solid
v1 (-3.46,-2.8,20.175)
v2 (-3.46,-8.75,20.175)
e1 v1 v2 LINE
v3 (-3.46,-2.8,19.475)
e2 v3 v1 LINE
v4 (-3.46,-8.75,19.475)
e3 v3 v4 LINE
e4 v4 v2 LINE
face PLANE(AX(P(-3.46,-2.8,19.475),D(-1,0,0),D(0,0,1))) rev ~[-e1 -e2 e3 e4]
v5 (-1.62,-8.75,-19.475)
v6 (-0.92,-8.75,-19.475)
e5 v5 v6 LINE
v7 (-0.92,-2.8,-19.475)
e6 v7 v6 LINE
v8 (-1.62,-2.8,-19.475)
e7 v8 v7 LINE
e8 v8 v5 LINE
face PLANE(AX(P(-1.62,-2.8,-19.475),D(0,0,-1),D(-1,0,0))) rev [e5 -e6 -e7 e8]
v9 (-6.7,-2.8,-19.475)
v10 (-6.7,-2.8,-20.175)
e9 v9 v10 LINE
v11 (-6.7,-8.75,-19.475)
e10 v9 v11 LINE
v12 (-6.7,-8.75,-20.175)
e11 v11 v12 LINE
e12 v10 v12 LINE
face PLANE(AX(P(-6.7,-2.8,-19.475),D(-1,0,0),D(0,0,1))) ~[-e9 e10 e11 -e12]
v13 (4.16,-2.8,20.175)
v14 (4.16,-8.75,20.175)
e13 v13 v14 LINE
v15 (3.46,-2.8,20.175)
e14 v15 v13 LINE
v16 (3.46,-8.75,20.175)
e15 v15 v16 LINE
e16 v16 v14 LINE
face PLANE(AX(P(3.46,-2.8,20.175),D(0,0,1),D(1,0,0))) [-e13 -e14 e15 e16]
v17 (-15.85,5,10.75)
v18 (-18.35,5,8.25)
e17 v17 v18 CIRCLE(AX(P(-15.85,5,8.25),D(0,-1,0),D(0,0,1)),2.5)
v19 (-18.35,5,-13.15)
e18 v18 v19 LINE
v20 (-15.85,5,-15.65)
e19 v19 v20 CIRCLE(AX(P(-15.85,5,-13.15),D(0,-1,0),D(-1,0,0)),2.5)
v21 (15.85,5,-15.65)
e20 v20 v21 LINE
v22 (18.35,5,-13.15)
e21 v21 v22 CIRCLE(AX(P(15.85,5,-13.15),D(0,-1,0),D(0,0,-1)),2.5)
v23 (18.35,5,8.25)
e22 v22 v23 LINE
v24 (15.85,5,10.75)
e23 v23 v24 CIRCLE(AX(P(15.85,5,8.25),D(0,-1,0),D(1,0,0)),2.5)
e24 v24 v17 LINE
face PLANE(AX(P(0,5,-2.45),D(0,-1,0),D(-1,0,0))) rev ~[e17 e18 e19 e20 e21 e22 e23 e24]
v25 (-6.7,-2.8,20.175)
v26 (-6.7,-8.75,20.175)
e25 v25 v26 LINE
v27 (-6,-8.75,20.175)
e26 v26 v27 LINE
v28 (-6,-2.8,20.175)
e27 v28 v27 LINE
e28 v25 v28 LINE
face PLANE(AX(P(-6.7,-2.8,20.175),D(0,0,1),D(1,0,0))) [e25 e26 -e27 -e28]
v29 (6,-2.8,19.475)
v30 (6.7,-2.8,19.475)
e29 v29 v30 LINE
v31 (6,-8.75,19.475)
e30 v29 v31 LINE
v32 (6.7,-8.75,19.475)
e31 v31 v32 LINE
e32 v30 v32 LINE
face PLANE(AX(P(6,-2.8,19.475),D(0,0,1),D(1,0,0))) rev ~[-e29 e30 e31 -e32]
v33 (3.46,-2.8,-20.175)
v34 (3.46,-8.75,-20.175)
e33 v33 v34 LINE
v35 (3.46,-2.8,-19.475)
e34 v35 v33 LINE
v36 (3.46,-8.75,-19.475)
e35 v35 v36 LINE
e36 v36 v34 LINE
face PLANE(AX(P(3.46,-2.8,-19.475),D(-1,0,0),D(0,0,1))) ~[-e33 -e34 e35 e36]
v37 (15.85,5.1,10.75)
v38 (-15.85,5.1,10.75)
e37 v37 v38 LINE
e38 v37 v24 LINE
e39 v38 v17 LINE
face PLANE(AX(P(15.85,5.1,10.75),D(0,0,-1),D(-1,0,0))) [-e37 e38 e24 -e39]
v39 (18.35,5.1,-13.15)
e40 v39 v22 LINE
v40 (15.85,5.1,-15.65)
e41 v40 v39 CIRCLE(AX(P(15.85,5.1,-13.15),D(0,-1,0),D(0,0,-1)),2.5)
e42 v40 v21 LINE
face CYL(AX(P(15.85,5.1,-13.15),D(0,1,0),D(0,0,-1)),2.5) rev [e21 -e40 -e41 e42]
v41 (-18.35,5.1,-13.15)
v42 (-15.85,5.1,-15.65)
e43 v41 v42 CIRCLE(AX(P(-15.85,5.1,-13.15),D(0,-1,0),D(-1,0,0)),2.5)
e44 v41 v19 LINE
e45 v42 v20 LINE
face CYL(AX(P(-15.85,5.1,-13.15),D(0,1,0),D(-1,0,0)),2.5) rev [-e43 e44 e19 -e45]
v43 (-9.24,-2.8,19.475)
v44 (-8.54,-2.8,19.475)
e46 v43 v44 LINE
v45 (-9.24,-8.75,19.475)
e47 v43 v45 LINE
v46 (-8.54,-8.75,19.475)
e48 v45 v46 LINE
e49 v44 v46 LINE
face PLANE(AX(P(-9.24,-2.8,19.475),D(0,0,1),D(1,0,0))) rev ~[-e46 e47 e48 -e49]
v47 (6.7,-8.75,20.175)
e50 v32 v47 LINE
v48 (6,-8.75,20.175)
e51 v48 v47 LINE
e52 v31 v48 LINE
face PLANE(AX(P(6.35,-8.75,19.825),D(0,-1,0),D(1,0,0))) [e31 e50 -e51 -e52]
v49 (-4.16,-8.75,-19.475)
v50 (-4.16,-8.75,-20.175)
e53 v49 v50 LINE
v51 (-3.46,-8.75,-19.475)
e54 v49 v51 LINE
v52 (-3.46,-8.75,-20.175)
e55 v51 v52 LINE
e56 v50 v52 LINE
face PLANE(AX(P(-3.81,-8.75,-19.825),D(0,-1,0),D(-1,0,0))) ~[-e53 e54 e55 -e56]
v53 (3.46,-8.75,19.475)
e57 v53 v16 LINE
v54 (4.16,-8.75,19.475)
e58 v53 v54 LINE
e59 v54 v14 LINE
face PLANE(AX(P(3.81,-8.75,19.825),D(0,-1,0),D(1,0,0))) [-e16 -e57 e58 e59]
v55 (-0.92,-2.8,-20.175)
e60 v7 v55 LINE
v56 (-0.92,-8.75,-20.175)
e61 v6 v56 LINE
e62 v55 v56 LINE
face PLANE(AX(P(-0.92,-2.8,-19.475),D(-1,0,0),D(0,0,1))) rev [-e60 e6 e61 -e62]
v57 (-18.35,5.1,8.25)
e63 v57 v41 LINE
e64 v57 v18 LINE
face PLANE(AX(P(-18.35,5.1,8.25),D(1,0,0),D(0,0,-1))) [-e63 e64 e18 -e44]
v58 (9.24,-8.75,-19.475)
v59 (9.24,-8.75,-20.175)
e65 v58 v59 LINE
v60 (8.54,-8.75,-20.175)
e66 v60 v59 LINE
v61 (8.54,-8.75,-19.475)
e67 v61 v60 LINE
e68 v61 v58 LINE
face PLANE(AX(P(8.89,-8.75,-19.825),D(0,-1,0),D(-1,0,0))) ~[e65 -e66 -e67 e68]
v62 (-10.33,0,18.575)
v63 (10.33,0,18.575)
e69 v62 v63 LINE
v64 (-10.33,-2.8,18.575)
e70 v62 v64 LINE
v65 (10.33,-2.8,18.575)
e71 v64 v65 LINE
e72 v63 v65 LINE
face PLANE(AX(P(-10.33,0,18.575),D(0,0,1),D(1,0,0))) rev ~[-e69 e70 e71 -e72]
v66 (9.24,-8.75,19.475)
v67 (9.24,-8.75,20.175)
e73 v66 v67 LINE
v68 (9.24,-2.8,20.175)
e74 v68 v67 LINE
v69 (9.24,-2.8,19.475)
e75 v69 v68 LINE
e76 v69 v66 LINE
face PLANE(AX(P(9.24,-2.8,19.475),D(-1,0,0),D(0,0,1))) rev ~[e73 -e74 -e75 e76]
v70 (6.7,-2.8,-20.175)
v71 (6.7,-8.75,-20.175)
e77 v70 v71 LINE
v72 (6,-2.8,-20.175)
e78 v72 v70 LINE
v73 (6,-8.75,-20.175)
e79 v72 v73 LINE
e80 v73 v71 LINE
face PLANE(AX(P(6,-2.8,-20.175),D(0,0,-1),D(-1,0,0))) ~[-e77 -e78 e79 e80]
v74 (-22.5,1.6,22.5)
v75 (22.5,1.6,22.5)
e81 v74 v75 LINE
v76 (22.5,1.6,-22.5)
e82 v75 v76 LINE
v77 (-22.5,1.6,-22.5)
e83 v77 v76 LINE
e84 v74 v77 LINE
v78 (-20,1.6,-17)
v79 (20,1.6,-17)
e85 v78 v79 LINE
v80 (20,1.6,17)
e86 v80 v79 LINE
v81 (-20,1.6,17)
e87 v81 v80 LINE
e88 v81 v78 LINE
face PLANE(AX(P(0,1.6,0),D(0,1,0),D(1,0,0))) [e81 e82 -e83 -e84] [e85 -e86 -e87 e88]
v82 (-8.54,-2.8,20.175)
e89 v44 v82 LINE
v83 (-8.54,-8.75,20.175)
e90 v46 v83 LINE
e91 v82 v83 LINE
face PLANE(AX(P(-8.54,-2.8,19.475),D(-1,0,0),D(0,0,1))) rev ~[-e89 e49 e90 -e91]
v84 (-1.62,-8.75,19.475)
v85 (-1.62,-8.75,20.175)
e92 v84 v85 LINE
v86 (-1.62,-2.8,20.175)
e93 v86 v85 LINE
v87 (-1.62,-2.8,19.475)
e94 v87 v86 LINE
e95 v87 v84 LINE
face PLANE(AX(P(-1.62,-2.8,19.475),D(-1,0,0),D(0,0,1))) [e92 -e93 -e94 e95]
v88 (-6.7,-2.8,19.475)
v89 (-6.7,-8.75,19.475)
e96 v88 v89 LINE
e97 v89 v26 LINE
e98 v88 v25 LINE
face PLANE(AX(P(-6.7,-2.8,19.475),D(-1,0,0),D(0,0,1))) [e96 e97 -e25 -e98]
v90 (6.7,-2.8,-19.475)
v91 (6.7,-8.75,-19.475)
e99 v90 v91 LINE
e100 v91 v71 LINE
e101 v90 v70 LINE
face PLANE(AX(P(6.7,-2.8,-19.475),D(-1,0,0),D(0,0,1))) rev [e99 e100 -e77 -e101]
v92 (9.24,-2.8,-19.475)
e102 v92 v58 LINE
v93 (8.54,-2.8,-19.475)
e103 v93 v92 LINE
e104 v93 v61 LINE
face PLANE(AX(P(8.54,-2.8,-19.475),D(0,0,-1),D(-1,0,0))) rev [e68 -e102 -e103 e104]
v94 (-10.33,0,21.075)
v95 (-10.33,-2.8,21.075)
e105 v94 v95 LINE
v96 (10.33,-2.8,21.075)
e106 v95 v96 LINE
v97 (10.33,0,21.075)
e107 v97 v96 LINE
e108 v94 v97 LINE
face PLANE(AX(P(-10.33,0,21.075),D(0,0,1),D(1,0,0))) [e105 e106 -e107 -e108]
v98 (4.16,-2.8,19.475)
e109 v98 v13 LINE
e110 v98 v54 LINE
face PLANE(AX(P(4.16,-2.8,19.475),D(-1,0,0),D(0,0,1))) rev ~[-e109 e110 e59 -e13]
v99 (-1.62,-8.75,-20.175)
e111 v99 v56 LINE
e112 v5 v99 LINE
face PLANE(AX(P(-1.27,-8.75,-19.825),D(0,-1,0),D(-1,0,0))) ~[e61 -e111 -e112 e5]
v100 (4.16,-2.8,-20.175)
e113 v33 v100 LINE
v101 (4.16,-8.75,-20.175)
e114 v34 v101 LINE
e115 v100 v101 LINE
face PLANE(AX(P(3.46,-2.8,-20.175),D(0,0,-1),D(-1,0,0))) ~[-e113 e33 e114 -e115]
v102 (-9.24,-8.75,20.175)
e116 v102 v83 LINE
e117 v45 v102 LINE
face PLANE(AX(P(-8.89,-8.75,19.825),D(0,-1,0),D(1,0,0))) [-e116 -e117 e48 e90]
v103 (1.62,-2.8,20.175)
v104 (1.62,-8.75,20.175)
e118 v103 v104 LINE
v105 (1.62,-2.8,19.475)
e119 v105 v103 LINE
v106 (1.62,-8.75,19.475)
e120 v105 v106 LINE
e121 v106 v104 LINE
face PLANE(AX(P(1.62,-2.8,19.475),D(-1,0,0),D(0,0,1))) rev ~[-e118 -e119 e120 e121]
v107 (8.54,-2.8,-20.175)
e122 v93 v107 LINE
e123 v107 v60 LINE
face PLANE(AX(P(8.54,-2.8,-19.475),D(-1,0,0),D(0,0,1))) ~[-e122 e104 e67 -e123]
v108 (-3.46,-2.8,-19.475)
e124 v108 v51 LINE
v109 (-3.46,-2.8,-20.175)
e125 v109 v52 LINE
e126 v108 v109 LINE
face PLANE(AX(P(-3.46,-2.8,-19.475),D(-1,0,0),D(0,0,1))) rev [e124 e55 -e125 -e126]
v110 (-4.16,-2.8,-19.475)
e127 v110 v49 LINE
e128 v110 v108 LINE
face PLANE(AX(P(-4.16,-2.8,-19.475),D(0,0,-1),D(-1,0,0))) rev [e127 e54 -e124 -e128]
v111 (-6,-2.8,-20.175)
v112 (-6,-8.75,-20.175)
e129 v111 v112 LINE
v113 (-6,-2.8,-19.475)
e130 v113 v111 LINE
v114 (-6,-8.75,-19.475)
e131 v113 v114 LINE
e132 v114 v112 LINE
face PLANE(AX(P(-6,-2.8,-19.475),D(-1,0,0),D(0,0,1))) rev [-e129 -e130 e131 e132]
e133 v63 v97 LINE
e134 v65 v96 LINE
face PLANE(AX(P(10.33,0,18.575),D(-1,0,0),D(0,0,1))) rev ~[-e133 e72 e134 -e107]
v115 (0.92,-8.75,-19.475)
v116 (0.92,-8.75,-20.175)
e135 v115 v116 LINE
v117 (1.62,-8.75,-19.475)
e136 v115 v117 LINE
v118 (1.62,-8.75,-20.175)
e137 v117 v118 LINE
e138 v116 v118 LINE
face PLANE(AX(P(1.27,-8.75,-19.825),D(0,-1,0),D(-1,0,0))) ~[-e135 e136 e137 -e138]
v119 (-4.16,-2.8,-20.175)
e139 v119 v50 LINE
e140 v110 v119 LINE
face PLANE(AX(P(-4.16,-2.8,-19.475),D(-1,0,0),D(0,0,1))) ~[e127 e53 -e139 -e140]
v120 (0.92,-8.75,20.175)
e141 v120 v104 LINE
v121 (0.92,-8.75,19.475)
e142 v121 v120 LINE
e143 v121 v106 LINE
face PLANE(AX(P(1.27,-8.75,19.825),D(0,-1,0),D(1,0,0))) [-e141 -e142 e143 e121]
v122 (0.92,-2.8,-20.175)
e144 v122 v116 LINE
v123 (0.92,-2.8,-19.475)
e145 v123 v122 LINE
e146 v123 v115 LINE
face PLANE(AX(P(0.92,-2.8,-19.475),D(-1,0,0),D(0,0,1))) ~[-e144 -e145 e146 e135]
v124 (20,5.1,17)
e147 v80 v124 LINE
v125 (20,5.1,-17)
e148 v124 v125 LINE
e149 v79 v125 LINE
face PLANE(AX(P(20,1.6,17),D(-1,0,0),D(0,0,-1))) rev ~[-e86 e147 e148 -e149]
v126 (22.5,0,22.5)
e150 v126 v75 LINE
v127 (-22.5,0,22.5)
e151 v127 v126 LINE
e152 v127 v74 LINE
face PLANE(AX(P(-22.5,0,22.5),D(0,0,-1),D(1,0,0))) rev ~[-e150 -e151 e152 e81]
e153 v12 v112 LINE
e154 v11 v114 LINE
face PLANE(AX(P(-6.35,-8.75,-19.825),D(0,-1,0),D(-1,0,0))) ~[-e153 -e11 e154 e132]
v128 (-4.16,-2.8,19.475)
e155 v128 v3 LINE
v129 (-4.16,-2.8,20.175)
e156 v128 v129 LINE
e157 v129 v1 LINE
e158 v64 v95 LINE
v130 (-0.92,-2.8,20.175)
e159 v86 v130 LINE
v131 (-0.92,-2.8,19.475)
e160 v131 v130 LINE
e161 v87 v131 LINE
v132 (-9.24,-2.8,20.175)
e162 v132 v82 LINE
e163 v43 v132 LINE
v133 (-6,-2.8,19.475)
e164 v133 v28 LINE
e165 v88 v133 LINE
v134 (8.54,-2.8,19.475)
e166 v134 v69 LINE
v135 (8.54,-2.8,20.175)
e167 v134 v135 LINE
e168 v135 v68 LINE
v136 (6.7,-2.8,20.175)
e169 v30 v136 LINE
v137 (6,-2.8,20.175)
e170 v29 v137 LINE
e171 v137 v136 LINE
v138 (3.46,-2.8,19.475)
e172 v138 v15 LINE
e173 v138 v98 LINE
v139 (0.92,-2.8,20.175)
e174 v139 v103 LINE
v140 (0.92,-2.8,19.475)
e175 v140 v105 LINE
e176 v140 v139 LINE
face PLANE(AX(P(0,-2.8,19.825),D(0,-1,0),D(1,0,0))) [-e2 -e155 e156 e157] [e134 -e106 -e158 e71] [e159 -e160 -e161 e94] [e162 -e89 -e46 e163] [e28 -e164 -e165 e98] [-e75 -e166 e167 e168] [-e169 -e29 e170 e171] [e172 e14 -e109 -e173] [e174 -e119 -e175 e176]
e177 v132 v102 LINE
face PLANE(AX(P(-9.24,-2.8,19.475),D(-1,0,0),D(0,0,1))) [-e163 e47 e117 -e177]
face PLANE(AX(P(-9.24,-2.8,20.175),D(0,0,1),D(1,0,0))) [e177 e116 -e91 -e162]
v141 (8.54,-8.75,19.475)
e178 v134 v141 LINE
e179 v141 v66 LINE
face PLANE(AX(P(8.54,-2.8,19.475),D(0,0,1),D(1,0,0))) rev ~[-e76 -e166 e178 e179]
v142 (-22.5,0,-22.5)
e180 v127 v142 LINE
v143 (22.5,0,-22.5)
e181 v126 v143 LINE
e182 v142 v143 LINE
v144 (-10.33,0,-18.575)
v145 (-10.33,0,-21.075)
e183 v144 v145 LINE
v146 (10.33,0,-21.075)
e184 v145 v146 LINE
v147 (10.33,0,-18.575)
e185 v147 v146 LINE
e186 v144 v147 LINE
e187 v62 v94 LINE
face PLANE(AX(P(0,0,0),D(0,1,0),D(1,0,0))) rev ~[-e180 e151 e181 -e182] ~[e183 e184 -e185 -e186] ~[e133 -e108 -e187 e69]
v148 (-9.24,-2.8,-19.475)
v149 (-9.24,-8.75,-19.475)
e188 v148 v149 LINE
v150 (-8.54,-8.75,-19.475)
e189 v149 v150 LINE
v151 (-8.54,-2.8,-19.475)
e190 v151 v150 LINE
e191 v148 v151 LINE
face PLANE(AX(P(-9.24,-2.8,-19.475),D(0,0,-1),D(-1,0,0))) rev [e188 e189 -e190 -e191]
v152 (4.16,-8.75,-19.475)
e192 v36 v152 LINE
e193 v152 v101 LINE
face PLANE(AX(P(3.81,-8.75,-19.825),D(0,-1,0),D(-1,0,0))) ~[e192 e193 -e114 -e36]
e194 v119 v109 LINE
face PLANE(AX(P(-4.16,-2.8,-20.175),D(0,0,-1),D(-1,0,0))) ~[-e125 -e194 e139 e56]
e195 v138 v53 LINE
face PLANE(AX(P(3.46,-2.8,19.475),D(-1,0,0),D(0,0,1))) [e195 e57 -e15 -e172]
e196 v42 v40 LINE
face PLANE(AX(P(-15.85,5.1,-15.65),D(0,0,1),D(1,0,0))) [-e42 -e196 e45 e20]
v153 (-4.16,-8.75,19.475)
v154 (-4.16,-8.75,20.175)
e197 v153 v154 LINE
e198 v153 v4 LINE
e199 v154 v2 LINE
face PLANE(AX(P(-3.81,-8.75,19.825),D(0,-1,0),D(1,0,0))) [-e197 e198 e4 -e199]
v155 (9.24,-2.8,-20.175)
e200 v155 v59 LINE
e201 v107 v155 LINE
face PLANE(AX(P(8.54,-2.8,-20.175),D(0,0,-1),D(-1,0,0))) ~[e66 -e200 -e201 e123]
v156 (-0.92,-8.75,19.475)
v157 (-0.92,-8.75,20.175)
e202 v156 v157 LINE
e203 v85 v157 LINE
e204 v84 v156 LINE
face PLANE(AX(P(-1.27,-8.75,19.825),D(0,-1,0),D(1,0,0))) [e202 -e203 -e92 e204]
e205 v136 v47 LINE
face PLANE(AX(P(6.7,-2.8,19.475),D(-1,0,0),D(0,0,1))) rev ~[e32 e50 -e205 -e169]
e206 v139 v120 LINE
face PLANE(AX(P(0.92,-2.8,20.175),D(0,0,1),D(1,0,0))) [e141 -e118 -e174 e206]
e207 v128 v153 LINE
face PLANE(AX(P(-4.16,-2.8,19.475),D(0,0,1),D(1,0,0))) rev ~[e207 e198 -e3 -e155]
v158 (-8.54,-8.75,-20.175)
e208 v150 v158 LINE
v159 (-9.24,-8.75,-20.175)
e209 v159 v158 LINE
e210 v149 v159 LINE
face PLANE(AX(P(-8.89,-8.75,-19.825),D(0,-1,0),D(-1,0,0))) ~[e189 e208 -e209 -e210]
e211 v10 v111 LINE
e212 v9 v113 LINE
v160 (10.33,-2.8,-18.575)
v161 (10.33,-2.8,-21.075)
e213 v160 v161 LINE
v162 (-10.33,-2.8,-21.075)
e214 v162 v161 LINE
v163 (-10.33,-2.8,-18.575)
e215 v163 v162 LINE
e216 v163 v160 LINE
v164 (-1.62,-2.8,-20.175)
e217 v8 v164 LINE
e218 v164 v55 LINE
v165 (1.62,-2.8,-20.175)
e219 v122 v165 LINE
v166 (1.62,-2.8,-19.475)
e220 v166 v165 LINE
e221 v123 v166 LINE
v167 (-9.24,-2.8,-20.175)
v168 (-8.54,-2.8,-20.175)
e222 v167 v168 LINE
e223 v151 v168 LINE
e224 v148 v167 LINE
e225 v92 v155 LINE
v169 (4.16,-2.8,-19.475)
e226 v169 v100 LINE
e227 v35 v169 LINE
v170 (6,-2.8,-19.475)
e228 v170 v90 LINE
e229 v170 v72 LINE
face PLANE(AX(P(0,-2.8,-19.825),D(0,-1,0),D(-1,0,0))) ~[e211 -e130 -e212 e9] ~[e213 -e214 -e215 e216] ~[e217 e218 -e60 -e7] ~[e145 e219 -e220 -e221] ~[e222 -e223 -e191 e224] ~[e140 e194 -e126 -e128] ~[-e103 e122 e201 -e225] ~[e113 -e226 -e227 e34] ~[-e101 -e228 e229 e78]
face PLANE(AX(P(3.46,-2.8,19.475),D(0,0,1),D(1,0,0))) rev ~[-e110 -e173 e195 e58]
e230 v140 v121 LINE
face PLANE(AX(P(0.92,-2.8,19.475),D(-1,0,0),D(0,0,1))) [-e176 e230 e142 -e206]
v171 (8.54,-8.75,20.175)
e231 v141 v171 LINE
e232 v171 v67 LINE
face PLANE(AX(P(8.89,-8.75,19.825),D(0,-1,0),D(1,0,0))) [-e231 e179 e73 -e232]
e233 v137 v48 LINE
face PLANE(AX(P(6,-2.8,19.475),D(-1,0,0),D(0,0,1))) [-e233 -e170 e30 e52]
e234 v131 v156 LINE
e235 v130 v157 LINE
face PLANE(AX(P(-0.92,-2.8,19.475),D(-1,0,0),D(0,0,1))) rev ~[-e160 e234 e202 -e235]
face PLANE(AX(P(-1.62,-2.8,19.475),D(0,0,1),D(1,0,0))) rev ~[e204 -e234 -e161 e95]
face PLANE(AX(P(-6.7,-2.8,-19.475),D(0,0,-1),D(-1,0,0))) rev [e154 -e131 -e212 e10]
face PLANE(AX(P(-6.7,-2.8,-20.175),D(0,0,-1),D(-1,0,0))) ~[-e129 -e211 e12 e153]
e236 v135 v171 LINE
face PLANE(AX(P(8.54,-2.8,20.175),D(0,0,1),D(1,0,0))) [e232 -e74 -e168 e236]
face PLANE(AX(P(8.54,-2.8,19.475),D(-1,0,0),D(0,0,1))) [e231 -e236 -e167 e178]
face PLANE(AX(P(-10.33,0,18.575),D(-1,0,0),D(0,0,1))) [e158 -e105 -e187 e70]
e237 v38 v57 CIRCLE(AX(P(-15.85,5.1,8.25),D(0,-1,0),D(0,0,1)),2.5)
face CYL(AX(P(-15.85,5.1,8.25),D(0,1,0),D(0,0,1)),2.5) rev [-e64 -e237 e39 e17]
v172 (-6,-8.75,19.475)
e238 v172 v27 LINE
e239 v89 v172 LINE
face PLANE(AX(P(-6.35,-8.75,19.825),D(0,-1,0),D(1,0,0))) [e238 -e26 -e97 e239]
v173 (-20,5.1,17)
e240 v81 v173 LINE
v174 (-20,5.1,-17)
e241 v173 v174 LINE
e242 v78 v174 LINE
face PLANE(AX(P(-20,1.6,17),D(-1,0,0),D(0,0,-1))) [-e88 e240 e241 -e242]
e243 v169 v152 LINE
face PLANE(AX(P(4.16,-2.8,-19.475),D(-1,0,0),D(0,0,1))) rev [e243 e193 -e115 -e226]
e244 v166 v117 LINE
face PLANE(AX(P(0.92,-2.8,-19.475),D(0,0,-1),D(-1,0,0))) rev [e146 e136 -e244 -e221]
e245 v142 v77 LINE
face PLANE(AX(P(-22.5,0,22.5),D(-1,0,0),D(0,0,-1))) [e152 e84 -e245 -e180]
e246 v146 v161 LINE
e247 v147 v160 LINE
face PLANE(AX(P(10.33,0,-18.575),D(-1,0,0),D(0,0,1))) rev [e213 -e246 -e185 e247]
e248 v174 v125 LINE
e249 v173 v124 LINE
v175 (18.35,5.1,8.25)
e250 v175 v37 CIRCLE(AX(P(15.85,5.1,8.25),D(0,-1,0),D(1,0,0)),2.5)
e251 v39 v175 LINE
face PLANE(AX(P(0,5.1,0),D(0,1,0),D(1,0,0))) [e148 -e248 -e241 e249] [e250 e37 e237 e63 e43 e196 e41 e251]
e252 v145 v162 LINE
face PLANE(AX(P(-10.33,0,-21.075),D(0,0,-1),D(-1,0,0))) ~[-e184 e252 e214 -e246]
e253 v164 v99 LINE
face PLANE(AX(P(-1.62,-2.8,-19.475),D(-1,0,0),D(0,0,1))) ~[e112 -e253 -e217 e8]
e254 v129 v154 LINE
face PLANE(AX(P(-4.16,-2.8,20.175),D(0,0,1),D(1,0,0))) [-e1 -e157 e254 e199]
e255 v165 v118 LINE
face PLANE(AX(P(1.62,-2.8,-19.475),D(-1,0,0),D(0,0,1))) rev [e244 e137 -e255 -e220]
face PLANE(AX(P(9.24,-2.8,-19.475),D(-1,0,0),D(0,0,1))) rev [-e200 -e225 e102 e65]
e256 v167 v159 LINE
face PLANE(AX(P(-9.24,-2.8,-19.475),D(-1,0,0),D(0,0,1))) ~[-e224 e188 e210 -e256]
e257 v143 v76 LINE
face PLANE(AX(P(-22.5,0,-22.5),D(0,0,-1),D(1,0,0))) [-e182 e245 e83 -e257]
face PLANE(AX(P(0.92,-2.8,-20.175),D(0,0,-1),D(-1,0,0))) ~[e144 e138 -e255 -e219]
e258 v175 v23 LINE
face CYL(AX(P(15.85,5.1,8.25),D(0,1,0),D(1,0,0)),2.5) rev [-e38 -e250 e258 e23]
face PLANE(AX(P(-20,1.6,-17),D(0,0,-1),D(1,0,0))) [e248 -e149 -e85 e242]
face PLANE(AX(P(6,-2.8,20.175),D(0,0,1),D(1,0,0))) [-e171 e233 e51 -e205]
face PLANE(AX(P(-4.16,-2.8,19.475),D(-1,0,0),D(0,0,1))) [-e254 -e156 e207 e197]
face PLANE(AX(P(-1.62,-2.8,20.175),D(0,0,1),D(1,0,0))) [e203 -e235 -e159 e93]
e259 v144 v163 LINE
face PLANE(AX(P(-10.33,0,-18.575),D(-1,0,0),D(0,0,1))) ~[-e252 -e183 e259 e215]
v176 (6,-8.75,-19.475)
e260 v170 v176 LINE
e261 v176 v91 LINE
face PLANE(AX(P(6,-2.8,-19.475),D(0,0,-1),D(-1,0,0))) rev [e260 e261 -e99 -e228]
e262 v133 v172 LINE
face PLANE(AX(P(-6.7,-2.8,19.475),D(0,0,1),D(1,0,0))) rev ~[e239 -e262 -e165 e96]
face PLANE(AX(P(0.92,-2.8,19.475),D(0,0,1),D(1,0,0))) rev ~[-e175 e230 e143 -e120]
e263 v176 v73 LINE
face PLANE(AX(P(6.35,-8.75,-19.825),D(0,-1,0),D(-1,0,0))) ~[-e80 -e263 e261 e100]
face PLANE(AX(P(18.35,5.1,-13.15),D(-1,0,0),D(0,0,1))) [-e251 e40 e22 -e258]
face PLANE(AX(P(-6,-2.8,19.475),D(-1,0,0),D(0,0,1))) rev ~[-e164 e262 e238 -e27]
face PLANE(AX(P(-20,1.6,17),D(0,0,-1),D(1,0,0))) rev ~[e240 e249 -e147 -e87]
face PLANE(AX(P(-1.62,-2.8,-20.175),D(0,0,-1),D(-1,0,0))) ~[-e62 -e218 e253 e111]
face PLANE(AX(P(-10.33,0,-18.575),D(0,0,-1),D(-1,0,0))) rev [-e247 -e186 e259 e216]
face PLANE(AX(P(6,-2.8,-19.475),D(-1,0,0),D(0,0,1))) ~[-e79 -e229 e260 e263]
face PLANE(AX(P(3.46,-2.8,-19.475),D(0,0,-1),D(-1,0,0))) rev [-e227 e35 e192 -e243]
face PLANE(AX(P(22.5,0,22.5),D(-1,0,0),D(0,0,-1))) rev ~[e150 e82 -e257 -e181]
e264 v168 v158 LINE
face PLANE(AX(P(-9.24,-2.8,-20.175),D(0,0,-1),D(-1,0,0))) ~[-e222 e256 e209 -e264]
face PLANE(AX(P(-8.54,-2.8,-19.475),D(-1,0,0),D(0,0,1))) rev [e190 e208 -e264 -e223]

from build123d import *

# Parameters (mm, degrees)
SKETCH1_W           = 45
SKETCH1_H           = 45
BOSS_EXTRUDE1_DEPTH = 1.6
SKETCH2_W           = 40
SKETCH2_H           = 34
BOSS_EXTRUDE2_DEPTH = 3.5
SKETCH4_W           = 20.66
SKETCH4_H           = 2.5
BOSS_EXTRUDE3_DEPTH = 2.8
SKETCH5_W           = 0.7
SKETCH5_H           = 0.7
BOSS_EXTRUDE4_DEPTH = 5.95
CUT_EXTRUDE1_DEPTH  = 0.1


with BuildPart() as part:
    # Sketch1 → Boss-Extrude1 (new body)
    with BuildSketch(Plane(origin=(0, 0, 0), x_dir=(1, 0, 0), z_dir=(0, 1, 0))):
        Rectangle(SKETCH1_W, SKETCH1_H)
    extrude(amount=BOSS_EXTRUDE1_DEPTH)

    # Sketch2 → Boss-Extrude2 (add)
    with BuildSketch(Plane(origin=(0, 1.6, 0), x_dir=(1, 0, 0), z_dir=(0, 1, 0))):
        Rectangle(SKETCH2_W, SKETCH2_H)
    extrude(amount=BOSS_EXTRUDE2_DEPTH)

    # Sketch4 → Boss-Extrude3 (add)
    with BuildSketch(Plane.XZ):
        with Locations((0, 19.825)):
            Rectangle(SKETCH4_W, SKETCH4_H)
    boss_extrude3 = extrude(amount=BOSS_EXTRUDE3_DEPTH)

    # Sketch5 → Boss-Extrude4 (add)
    with BuildSketch(Plane.XZ.offset(2.8)):
        with Locations((-8.89, 19.825)):
            Rectangle(SKETCH5_W, SKETCH5_H)
        with Locations((-6.35, 19.825)):
            Rectangle(SKETCH5_W, SKETCH5_H)
        with Locations((-3.81, 19.825)):
            Rectangle(SKETCH5_W, SKETCH5_H)
        with Locations((-1.27, 19.825)):
            Rectangle(SKETCH5_W, SKETCH5_H)
        with Locations((1.27, 19.825)):
            Rectangle(SKETCH5_W, SKETCH5_H)
        with Locations((3.81, 19.825)):
            Rectangle(SKETCH5_W, SKETCH5_H)
        with Locations((6.35, 19.825)):
            Rectangle(SKETCH5_W, SKETCH5_H)
        with Locations((8.89, 19.825)):
            Rectangle(SKETCH5_W, SKETCH5_H)
    boss_extrude4 = extrude(amount=BOSS_EXTRUDE4_DEPTH)

    # Sketch6 → Cut-Extrude1 (cut)
    with BuildSketch(Plane(origin=(0, 5.1, 0), x_dir=(1, 0, 0), z_dir=(0, 1, 0))):
        with BuildLine():
            Line((-15.85, 15.65), (15.85, 15.65))
            ThreePointArc((15.85, 15.65), (17.617766953, 14.917766953), (18.35, 13.15))
            Line((18.35, 13.15), (18.35, -8.25))
            ThreePointArc((18.35, -8.25), (17.617766953, -10.017766953), (15.85, -10.75))
            Line((15.85, -10.75), (-15.85, -10.75))
            ThreePointArc((-15.85, -10.75), (-17.617766953, -10.017766953), (-18.35, -8.25))
            Line((-18.35, -8.25), (-18.35, 13.15))
            ThreePointArc((-18.35, 13.15), (-17.617766953, 14.917766953), (-15.85, 15.65))
        make_face()
    extrude(amount=-CUT_EXTRUDE1_DEPTH, mode=Mode.SUBTRACT)

    # Mirror1: Boss-Extrude3, Boss-Extrude4 across plane
    add(boss_extrude3.mirror(Plane.XY))
    add(boss_extrude4.mirror(Plane.XY))


solid = part.part
